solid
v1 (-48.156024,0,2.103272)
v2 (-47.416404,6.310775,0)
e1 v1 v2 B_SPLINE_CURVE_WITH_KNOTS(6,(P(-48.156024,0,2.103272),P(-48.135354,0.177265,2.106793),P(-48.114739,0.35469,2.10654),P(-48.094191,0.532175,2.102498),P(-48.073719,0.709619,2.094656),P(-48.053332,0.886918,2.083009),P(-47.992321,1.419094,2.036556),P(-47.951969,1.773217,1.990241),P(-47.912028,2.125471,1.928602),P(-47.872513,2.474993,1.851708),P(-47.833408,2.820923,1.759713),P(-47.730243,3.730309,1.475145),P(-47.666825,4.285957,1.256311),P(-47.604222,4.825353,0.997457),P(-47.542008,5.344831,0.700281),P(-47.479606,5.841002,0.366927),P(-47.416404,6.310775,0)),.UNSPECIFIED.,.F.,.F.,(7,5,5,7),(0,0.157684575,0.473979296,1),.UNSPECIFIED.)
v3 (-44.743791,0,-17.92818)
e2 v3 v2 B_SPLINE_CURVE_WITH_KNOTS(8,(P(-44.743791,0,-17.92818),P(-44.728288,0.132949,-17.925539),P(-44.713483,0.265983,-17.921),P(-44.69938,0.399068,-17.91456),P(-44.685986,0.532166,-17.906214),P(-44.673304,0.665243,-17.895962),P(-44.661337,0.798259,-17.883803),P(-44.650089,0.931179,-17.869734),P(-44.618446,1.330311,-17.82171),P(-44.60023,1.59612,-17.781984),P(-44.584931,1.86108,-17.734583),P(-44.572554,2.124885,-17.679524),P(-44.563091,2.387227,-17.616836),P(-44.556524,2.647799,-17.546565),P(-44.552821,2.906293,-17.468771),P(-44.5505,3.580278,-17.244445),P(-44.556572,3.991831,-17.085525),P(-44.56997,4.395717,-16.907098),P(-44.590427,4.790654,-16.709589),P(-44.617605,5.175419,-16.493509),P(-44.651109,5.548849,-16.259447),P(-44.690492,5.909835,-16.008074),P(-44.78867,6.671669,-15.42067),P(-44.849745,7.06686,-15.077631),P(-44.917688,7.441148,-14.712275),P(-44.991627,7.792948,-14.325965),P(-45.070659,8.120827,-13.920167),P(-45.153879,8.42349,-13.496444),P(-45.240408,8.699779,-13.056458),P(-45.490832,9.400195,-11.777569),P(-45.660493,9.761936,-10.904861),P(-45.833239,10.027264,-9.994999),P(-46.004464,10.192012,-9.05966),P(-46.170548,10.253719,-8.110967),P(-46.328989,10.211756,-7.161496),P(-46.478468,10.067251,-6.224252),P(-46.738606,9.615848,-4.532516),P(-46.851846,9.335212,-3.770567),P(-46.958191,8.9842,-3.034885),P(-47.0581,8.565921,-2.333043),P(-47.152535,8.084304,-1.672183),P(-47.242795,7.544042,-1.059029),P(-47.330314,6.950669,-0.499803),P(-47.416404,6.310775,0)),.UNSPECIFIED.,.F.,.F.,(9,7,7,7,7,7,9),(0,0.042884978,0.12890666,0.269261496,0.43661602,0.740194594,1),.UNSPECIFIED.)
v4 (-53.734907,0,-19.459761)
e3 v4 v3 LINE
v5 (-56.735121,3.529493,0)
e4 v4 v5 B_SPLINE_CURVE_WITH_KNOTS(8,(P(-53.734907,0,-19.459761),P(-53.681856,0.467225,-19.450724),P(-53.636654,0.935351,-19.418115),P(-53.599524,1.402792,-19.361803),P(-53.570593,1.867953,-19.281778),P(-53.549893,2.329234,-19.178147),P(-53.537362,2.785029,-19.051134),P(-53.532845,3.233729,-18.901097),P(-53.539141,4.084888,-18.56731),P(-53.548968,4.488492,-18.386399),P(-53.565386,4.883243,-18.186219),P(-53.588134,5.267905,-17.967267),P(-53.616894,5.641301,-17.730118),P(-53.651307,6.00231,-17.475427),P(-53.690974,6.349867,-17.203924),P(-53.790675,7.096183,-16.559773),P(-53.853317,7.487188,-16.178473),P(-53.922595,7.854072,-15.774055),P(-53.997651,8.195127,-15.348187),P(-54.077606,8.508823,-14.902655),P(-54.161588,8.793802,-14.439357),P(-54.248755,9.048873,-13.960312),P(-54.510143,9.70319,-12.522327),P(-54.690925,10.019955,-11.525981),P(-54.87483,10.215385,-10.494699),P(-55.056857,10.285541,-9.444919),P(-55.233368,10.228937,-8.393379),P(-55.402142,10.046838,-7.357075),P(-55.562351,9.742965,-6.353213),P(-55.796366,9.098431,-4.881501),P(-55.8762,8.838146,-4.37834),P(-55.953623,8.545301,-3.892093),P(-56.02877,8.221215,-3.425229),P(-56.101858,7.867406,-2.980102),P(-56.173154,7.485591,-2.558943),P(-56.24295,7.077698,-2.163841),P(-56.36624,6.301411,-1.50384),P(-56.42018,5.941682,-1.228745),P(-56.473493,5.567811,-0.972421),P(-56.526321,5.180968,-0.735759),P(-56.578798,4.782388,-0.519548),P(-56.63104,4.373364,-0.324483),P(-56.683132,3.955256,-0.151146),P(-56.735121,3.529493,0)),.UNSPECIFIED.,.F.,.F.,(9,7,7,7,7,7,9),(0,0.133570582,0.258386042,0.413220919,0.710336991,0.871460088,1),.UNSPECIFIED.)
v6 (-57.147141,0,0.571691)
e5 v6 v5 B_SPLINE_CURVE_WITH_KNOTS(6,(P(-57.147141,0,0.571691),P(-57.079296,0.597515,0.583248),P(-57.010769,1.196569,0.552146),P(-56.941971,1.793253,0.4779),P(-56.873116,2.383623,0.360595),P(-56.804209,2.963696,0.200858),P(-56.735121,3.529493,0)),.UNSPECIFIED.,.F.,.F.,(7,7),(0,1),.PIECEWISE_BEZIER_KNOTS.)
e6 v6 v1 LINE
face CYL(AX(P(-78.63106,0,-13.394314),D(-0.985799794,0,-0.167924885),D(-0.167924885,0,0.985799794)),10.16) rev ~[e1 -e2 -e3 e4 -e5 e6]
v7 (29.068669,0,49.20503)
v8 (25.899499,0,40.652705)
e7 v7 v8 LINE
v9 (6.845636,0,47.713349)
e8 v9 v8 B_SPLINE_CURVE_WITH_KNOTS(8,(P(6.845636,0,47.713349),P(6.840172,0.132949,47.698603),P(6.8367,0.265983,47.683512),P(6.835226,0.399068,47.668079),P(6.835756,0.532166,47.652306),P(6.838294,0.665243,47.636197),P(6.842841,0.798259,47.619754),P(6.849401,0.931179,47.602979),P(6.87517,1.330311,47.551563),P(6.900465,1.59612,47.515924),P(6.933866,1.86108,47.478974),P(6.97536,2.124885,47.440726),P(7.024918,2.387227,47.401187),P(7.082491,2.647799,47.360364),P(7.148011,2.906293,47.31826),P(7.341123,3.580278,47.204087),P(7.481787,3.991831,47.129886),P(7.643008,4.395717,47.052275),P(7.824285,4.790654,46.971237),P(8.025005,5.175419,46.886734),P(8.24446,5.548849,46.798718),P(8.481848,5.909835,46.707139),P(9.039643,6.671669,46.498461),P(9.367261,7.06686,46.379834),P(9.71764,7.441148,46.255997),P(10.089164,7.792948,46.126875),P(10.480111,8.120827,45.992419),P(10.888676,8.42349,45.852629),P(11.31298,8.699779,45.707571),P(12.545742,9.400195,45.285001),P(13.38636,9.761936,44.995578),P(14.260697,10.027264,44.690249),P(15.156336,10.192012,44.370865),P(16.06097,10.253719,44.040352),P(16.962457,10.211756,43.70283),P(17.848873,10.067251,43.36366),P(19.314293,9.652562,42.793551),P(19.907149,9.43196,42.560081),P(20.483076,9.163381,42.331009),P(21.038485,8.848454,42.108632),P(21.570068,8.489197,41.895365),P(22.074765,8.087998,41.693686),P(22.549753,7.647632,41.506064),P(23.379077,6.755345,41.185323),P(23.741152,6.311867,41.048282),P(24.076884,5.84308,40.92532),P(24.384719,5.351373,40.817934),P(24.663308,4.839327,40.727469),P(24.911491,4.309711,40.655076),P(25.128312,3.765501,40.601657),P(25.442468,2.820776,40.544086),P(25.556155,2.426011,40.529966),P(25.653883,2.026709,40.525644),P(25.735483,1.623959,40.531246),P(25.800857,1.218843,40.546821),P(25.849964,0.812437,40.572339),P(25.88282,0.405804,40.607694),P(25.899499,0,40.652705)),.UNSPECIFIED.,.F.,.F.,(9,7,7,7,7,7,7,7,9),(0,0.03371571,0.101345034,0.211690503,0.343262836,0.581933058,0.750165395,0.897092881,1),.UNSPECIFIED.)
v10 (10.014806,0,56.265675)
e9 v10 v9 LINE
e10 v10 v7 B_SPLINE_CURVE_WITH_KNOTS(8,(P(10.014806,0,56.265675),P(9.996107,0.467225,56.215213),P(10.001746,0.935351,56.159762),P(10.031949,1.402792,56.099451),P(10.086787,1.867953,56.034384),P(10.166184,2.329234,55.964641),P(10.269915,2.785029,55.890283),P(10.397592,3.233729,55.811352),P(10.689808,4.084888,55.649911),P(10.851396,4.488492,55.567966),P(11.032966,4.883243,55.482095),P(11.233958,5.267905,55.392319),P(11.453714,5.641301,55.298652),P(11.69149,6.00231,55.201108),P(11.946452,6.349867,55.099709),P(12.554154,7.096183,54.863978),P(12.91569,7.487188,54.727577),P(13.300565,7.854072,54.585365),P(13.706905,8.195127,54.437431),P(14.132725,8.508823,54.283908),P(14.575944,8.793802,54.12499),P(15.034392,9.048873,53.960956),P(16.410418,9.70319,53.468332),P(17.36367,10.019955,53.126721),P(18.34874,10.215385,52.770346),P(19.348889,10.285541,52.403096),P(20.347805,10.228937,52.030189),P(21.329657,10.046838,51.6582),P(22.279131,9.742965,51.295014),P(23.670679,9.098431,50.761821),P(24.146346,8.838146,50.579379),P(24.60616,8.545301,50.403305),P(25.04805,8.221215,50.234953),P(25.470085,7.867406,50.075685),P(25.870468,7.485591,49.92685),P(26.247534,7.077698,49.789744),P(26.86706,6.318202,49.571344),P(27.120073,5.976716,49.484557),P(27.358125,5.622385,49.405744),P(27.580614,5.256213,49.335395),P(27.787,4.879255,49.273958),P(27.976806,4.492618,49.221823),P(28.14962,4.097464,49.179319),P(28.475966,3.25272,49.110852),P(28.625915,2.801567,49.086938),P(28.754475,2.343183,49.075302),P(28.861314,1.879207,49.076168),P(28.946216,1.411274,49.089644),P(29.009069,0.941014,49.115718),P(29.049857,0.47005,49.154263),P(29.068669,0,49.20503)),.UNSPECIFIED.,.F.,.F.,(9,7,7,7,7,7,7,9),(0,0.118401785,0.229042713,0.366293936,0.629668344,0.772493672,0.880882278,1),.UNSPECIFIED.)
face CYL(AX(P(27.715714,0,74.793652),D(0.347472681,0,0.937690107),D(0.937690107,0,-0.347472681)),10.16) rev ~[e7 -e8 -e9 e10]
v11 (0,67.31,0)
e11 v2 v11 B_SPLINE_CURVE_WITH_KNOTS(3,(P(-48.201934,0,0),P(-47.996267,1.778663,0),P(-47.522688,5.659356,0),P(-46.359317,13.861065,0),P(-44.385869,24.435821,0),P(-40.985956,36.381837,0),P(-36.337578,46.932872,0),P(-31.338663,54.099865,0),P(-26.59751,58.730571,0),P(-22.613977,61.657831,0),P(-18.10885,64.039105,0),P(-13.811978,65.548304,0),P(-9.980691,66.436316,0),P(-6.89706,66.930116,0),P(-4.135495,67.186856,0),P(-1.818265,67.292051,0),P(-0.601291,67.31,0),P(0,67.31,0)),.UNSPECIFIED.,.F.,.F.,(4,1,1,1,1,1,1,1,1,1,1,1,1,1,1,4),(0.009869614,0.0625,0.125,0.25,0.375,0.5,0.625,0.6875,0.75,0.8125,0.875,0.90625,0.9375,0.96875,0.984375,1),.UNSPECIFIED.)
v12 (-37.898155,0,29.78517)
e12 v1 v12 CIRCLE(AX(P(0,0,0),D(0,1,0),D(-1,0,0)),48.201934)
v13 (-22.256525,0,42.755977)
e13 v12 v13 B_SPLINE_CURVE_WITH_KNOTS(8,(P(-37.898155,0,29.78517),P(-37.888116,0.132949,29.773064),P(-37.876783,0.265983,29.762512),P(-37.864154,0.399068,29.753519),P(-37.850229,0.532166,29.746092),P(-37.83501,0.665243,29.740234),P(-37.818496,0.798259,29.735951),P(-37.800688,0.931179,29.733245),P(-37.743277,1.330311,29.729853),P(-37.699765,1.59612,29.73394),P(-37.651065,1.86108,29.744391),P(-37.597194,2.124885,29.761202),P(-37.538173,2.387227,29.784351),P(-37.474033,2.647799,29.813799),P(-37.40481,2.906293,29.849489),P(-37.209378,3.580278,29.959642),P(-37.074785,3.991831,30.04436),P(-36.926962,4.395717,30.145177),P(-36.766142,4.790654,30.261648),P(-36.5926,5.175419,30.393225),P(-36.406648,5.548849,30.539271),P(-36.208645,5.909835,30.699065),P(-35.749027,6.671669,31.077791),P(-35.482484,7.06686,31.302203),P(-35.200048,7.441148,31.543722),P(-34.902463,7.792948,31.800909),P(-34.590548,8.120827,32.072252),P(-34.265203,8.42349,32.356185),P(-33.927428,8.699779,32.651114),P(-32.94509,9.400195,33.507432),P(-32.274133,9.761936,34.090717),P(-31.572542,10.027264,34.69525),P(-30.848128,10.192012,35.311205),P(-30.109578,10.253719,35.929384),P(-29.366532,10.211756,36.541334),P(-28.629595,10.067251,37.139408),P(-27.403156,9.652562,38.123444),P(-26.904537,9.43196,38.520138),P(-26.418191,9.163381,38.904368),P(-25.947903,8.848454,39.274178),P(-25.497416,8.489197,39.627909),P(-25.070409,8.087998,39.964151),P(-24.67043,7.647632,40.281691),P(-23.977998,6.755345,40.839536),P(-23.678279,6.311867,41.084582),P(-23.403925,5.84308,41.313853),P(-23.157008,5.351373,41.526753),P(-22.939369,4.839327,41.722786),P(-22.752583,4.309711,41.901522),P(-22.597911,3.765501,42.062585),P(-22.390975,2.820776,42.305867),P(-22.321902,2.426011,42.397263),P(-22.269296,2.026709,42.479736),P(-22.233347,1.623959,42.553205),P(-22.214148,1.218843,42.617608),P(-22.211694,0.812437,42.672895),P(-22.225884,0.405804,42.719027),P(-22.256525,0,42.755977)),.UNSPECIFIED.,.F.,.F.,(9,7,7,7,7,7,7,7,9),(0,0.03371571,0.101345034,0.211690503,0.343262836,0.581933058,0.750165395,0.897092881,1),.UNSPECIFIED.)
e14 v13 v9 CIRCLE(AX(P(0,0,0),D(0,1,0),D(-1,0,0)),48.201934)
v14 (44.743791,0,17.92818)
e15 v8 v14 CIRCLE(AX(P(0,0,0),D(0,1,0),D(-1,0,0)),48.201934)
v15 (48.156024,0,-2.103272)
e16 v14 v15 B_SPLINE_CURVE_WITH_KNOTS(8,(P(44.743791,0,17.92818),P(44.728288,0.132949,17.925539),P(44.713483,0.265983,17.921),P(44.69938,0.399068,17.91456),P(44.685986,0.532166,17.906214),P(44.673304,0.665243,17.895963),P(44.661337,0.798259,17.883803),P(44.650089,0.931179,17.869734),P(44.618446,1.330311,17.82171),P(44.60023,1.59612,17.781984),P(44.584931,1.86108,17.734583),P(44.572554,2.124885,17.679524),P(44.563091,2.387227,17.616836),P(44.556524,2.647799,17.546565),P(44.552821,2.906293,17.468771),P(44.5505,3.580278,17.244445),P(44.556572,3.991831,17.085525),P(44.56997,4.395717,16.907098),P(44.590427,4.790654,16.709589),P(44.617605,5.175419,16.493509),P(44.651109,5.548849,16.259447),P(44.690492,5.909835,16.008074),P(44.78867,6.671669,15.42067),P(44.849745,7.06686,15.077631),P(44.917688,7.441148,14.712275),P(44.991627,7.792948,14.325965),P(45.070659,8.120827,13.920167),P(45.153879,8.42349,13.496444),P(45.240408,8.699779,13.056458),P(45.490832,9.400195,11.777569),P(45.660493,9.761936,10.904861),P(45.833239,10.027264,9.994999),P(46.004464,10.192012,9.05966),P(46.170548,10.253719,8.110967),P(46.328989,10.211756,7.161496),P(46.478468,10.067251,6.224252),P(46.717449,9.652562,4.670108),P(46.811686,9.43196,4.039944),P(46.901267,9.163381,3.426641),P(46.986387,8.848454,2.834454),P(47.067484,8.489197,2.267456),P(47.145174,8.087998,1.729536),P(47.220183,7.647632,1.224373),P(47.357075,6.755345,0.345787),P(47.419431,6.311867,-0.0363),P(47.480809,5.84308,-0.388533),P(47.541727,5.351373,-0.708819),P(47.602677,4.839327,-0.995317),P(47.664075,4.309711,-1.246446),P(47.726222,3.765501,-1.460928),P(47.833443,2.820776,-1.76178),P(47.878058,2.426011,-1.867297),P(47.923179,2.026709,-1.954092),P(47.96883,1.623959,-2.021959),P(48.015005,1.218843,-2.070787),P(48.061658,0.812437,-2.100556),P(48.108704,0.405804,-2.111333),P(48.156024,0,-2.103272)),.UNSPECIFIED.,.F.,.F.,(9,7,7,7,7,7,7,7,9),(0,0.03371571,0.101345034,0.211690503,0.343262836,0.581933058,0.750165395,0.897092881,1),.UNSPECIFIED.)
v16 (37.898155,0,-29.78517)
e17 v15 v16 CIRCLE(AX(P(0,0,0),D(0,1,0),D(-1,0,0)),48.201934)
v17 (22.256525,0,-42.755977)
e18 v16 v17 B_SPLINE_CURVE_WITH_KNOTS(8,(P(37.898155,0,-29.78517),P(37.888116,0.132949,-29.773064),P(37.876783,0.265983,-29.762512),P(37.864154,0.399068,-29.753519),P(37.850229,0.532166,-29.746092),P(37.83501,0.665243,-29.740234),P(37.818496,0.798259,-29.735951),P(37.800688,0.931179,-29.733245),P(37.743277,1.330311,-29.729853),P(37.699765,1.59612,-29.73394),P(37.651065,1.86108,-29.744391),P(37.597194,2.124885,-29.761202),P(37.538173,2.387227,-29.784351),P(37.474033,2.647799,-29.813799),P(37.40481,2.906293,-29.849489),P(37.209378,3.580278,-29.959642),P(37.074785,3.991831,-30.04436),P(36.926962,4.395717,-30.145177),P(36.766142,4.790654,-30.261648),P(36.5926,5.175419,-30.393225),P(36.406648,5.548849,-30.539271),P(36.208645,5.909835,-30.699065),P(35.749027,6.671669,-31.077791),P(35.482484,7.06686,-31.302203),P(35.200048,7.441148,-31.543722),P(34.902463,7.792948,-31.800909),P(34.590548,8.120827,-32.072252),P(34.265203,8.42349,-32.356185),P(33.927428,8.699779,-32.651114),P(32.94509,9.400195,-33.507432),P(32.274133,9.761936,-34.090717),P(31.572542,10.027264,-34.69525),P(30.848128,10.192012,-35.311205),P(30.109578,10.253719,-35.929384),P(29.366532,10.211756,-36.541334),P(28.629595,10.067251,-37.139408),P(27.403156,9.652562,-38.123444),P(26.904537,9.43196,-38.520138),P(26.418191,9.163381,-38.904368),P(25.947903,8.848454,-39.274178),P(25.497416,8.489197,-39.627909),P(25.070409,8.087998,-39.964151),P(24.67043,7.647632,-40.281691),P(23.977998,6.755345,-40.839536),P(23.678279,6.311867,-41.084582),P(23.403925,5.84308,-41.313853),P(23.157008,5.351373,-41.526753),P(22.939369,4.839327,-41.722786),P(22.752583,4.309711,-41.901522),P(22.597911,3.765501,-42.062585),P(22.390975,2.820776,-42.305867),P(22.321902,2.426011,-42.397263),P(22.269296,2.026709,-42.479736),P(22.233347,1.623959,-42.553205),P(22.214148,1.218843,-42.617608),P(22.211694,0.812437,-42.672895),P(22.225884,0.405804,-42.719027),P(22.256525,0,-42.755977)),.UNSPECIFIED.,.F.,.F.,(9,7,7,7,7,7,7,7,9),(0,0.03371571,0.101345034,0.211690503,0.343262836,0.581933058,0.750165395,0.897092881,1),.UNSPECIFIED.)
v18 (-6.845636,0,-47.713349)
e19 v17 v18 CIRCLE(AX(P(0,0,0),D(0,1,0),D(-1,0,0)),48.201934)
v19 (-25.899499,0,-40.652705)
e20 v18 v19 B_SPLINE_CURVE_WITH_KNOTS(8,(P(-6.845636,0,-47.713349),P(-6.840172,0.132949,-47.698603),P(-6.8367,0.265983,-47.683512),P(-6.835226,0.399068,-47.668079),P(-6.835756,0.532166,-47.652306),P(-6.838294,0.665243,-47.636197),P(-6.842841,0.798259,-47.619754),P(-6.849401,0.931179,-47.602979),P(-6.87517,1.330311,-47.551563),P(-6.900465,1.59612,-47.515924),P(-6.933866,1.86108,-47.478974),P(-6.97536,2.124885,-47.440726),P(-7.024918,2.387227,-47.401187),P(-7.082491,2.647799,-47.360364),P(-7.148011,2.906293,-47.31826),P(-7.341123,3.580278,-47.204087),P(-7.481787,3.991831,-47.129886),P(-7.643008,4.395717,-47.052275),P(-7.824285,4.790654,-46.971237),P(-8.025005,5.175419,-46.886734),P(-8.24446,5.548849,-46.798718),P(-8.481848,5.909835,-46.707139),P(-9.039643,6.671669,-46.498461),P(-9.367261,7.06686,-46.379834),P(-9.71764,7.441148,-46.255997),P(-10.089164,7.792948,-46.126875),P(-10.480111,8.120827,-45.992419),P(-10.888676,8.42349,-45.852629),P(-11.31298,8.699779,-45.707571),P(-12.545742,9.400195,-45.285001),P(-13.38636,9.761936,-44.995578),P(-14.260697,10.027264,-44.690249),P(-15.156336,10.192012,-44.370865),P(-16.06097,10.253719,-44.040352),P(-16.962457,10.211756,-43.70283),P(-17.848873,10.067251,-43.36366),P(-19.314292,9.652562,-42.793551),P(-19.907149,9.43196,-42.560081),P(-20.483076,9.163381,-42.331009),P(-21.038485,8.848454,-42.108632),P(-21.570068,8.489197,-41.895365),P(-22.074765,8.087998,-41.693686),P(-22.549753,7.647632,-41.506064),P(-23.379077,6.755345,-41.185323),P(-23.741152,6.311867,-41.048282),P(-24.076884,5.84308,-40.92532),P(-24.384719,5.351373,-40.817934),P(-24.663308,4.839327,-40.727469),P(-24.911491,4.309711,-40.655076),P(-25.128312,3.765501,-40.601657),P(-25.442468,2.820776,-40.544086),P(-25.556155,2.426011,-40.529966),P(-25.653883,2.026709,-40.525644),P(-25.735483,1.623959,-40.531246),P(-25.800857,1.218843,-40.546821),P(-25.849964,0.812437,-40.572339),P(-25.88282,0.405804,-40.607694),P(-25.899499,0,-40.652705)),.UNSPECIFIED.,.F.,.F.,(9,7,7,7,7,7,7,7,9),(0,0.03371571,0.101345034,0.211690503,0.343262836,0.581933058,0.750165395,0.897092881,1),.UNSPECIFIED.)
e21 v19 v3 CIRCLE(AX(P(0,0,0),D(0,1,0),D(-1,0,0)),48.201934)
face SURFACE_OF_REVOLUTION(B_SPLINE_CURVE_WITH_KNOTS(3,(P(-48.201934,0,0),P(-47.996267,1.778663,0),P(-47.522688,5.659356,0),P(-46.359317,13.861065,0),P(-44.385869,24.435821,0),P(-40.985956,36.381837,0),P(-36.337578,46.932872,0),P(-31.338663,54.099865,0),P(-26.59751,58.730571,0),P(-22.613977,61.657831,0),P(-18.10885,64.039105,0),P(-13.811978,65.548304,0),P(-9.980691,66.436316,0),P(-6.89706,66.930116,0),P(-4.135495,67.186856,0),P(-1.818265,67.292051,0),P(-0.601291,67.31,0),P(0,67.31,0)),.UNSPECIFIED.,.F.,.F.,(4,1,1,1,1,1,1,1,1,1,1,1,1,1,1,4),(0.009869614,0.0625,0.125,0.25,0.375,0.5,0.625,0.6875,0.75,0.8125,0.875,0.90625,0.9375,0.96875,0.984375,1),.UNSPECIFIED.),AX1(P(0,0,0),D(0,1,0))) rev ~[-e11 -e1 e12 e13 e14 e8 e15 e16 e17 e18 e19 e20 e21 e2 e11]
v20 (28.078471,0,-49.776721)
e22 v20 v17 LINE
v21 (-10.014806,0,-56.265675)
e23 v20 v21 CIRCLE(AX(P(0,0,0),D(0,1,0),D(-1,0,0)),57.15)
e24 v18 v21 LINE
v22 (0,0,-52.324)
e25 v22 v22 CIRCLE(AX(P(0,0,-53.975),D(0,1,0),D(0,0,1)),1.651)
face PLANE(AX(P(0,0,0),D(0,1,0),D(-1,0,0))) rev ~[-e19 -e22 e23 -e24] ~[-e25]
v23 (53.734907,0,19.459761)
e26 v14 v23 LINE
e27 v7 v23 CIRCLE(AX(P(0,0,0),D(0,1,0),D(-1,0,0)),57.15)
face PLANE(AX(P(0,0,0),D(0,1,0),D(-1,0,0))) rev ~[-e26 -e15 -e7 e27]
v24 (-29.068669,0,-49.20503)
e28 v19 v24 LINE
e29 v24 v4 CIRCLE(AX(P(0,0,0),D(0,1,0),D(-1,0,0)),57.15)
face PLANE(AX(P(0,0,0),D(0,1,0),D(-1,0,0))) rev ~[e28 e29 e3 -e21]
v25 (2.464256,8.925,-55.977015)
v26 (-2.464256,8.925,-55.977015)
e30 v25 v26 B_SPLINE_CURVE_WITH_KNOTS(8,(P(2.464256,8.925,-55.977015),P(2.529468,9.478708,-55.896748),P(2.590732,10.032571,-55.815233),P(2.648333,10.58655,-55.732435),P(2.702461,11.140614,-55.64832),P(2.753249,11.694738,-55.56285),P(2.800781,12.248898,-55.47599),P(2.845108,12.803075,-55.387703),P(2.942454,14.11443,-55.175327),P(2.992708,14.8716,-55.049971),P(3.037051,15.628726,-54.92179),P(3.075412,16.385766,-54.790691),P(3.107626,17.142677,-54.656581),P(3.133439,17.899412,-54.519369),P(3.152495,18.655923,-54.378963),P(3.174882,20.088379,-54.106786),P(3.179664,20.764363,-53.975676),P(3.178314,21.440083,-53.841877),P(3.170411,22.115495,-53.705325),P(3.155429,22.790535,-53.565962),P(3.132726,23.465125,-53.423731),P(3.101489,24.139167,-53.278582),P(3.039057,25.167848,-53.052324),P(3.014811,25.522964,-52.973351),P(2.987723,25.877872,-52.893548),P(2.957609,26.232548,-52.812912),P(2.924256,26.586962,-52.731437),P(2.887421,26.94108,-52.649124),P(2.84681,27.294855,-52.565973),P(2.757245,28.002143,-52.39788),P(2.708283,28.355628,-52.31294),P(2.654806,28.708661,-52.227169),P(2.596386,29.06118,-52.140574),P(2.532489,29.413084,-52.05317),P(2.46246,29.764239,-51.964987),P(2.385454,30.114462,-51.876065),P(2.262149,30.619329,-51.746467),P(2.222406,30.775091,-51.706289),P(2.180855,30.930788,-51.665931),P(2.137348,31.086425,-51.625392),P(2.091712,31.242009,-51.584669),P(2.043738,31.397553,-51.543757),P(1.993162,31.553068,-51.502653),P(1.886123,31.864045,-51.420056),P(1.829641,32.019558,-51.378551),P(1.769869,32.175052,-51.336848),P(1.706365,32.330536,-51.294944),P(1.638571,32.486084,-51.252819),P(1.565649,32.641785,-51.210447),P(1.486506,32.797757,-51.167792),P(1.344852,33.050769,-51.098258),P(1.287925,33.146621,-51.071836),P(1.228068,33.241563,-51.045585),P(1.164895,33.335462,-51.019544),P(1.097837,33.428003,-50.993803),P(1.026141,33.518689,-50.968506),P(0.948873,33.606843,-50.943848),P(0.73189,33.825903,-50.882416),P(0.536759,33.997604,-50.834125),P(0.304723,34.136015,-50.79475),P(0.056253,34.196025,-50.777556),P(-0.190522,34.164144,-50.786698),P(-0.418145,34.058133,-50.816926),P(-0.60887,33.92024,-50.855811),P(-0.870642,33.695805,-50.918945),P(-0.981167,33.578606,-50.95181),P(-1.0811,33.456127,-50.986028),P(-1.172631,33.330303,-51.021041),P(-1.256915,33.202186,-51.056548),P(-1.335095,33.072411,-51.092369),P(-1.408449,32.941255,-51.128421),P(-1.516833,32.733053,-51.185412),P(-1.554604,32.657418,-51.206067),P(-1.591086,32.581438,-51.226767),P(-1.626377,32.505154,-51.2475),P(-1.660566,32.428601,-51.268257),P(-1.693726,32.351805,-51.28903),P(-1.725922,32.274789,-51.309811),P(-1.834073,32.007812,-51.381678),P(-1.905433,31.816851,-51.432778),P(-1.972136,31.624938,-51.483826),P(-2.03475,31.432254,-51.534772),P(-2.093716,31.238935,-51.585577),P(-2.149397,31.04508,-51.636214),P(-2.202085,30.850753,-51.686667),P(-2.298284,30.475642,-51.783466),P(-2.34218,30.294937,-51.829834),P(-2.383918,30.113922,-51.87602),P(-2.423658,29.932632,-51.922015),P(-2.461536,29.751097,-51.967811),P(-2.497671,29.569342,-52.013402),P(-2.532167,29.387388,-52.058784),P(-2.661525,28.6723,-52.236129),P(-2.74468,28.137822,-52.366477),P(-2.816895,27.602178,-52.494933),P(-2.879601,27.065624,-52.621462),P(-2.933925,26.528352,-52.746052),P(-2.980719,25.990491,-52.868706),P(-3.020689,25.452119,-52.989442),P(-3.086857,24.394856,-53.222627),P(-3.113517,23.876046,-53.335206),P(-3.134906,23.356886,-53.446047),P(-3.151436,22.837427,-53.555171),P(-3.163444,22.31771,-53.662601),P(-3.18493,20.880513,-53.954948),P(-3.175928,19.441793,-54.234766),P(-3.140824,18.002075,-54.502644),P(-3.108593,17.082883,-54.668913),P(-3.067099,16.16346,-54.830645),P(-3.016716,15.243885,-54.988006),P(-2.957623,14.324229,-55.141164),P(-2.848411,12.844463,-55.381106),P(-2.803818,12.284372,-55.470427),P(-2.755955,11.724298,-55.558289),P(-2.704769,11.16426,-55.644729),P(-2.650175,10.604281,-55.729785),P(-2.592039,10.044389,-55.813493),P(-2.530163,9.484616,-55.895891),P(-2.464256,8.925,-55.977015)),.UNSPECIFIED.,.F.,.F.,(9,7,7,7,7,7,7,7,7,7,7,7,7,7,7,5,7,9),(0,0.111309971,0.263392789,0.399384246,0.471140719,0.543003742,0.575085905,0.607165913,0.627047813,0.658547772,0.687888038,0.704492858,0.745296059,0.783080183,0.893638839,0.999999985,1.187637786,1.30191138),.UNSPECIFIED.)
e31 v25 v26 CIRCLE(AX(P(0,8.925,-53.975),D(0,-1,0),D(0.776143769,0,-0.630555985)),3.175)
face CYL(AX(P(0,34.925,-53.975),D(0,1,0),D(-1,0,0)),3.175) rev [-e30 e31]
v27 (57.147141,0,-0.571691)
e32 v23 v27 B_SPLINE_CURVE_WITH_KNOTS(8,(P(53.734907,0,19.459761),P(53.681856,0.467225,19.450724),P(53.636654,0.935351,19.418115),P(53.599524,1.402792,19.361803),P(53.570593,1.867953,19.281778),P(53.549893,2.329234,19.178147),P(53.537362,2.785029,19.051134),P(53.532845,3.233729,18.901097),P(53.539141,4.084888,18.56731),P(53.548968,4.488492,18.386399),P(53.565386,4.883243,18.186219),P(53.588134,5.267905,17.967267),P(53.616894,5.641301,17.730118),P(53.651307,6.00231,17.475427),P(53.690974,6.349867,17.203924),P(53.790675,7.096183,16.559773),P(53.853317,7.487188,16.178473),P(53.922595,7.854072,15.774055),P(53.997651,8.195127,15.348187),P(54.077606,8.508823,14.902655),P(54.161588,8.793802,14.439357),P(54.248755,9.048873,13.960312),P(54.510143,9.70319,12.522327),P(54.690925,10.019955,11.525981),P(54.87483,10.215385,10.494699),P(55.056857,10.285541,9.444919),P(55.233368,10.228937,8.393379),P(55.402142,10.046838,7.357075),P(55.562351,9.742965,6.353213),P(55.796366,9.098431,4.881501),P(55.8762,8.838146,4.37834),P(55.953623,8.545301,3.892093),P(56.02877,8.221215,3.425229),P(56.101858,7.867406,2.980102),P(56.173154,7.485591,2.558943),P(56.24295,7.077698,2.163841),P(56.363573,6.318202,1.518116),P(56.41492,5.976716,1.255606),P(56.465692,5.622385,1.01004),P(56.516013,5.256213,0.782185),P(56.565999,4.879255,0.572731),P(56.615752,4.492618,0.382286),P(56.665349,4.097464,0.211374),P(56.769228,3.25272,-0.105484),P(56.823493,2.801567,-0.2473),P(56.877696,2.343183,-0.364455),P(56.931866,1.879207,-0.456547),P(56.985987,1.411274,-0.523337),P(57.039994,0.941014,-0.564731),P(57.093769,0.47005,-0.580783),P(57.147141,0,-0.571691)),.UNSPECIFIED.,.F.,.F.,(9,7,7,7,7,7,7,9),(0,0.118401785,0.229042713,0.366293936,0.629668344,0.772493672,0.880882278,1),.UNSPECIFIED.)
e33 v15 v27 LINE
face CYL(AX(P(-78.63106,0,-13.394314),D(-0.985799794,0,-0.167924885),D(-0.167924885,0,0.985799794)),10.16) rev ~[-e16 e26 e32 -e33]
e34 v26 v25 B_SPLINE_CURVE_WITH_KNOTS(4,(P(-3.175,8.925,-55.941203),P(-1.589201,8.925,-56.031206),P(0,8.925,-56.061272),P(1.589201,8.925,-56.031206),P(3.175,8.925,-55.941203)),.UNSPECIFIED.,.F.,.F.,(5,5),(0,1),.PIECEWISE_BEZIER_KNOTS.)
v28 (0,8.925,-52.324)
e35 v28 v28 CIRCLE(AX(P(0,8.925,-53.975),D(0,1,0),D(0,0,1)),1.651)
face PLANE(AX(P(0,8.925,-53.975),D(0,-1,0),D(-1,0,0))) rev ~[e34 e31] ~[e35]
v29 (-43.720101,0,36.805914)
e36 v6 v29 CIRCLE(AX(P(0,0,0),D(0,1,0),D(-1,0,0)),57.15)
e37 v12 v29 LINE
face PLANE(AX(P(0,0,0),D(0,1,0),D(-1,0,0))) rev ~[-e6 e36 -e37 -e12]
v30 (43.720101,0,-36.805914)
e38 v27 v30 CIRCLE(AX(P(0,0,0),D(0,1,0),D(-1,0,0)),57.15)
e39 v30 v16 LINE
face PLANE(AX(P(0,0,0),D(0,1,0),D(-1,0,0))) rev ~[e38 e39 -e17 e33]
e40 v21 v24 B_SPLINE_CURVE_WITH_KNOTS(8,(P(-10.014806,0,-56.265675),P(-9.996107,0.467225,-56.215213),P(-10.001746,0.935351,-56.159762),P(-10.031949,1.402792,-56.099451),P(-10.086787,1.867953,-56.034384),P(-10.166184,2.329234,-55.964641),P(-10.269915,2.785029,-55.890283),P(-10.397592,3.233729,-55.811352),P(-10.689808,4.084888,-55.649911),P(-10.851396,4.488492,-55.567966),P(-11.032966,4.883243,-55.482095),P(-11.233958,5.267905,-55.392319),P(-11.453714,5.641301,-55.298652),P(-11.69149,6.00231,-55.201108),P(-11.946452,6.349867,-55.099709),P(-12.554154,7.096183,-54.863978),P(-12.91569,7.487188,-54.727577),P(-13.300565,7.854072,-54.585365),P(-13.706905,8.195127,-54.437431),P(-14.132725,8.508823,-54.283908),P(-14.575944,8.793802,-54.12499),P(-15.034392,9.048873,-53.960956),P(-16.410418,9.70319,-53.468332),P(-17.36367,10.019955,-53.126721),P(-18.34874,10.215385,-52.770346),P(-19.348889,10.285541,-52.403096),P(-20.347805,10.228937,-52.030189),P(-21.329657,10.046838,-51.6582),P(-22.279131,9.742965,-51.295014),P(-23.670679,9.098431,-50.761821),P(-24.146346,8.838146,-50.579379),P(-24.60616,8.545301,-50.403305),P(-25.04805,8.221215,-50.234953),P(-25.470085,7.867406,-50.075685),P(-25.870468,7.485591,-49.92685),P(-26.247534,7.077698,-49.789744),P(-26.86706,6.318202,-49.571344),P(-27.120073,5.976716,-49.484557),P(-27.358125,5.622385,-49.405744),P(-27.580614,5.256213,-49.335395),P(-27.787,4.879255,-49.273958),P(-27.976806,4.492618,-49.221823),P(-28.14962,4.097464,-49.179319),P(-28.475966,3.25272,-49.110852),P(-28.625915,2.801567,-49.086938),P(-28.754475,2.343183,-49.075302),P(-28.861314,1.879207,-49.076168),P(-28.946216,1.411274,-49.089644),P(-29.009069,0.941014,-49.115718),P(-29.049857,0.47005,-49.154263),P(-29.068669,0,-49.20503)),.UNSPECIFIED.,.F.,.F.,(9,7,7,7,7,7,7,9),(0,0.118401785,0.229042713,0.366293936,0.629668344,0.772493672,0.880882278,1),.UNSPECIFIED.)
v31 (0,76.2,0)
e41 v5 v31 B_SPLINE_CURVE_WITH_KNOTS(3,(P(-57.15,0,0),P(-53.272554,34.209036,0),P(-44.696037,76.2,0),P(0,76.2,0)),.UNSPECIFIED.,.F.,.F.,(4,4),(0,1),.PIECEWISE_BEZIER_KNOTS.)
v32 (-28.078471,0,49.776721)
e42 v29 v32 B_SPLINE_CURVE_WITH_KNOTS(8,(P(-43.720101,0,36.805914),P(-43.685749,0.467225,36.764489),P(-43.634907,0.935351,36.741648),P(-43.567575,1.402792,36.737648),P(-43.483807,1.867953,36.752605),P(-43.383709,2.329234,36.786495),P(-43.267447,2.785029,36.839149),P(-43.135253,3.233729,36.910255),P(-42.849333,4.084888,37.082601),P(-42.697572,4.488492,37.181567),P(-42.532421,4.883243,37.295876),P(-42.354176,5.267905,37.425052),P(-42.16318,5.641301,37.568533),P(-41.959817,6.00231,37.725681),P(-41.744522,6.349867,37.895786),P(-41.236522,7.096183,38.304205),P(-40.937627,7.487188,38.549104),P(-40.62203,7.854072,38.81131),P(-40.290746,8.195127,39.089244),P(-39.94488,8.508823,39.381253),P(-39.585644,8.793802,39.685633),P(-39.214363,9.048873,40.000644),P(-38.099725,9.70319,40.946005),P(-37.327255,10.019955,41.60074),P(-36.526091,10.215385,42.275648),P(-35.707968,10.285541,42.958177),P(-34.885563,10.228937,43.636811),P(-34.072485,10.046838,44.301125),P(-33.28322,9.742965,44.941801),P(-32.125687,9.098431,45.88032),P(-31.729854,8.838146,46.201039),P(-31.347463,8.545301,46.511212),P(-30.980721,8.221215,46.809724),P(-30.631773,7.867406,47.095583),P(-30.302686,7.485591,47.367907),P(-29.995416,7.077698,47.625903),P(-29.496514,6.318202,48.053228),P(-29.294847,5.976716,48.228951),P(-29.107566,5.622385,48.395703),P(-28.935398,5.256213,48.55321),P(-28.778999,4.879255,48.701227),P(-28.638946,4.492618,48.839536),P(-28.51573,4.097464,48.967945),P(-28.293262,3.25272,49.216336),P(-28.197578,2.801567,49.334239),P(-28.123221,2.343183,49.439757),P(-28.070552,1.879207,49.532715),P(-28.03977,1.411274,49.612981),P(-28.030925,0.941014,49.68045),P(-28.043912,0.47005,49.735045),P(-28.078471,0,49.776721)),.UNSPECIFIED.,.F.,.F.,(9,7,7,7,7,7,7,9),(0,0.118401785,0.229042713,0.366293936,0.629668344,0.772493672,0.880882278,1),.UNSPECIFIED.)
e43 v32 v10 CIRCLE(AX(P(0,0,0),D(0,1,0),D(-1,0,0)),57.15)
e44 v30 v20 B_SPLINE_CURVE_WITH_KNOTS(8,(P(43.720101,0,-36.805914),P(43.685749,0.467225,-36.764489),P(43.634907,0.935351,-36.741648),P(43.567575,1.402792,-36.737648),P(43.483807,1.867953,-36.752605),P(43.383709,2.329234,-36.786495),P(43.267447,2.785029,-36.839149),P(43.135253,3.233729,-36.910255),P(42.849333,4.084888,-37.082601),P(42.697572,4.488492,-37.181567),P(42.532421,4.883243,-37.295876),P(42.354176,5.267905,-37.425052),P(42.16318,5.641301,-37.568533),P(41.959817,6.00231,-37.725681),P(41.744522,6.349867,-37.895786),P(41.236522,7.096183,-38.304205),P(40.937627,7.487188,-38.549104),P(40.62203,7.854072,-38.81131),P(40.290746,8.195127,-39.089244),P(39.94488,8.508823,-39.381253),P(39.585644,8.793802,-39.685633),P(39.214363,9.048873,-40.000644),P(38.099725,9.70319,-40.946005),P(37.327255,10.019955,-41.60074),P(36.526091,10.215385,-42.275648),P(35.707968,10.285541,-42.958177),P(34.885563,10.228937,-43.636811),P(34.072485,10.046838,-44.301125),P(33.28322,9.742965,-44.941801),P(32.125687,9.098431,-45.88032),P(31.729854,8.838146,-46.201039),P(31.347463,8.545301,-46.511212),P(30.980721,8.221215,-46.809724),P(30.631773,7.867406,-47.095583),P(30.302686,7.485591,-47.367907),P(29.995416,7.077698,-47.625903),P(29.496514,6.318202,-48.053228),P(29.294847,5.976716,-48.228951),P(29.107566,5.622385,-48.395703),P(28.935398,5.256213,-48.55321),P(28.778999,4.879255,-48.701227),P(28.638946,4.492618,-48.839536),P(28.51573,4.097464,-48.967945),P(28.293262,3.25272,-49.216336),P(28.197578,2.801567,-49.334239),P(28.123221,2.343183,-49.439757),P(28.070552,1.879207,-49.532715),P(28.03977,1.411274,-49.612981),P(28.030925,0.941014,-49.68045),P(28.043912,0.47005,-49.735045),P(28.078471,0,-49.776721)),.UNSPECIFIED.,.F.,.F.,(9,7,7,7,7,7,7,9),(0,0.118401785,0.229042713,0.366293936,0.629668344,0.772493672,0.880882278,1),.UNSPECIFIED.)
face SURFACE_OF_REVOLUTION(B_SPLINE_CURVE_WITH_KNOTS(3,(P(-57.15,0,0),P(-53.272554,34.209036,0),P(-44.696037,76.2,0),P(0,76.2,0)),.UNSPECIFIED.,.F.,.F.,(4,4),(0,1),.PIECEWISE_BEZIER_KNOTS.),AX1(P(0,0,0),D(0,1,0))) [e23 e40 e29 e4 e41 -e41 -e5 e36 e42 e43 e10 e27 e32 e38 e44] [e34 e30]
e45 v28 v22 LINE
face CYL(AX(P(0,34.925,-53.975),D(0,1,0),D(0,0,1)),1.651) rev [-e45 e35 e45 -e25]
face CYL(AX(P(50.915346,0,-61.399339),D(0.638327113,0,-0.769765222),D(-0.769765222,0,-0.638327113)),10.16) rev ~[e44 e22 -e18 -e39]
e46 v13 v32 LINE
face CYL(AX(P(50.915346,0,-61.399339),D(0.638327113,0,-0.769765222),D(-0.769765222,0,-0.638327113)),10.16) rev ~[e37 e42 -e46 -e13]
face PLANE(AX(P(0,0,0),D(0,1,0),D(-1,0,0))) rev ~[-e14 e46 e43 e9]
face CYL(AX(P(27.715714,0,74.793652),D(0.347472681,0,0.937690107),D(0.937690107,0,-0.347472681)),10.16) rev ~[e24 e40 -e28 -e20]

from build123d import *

# Parameters (mm, degrees)
SKETCH_2_R               = 1.651
CUT_EXTRUDE_2_DEPTH      = 91.751697814
SKETCH_3_R               = 3.175
CUT_EXTRUDE_3_DEPTH      = 26
CUT_EXTRUDE_6_DEPTH      = 171.936937112
PATTERN_CIRCULAR_1_COUNT = 3


with BuildPart() as part:
    # 草图1 → 旋转1 (revolve)
    with BuildSketch(Plane.XY):
        with BuildLine():
            Line((-57.15, 0), (-48.201934037, 0))
            add(Edge.make_bspline(
                [(-48.201934037, 0), (-47.996267093, 1.778662864), (-47.522687895, 5.659356316), (-46.359317113, 13.861065304), (-44.38586856, 24.435820868), (-40.985955974, 36.381836571), (-36.337578012, 46.932872089), (-31.338663057, 54.099865092), (-26.597509905, 58.73057135), (-22.613977153, 61.657830569), (-18.108849913, 64.039104922), (-13.81197765, 65.548303683), (-9.980690551, 66.436316246), (-6.897059853, 66.930115728), (-4.135495293, 67.186856186), (-1.818265262, 67.292050819), (-0.601290545, 67.31), (0, 67.31)],
                knots=[0.009869614, 0.009869614, 0.009869614, 0.009869614, 0.0625, 0.125, 0.25, 0.375, 0.5, 0.625, 0.6875, 0.75, 0.8125, 0.875, 0.90625, 0.9375, 0.96875, 0.984375, 1, 1, 1, 1], degree=3))
            Line((0, 67.31), (0, 76.2))
            add(Edge.make_bspline(
                [(-57.15, 0), (-53.272554224, 34.209036409), (-44.696037368, 76.2), (0, 76.2)],
                knots=[0, 0, 0, 0, 1, 1, 1, 1], degree=3))
        make_face()
    revolve(axis=Axis((0, 0, 0), (0, 1, 0)))

    # 草图2 → 切除-拉伸2 (cut, through all)
    with BuildSketch(Plane(origin=(0, 34.925, 0), x_dir=(-1, 0, 0), z_dir=(0, -1, 0))):
        with Locations(Location((0, 53.975, 0), (0, 0, 270))):
            Circle(SKETCH_2_R)
    extrude(amount=CUT_EXTRUDE_2_DEPTH, mode=Mode.SUBTRACT)

    # 草图3 → 切除-拉伸3 (cut)
    with BuildSketch(Plane(origin=(0, 34.925, 0), x_dir=(-1, 0, 0), z_dir=(0, -1, 0))):
        with Locations((0, 53.975)):
            Circle(SKETCH_3_R)
    extrude(amount=CUT_EXTRUDE_3_DEPTH, mode=Mode.SUBTRACT)

    # 草图4 → 切除-拉伸6 (cut, through all)
    with BuildSketch(Plane(origin=(-78.631059864, 0, -13.394313695), x_dir=(0.16792488488501636, 0, -0.9857997935870925), z_dir=(0.9857997935870924, 0, 0.16792488488501633))):
        with BuildLine():
            Line((10.16, 0), (-10.16, 0))
            ThreePointArc((-10.16, 0), (0, 10.16), (10.16, 0))
        make_face()
    cut_extrude_6 = extrude(amount=CUT_EXTRUDE_6_DEPTH, mode=Mode.SUBTRACT)

    # 阵列(圆周)1: 切除-拉伸6 ×3 about axis
    pattern_circular_1_axis = Axis((0, 0, 0), (0, 1, 0))
    for i in range(1, PATTERN_CIRCULAR_1_COUNT):
        add(cut_extrude_6.rotate(pattern_circular_1_axis, i * 360 / PATTERN_CIRCULAR_1_COUNT), mode=Mode.SUBTRACT)


solid = part.part
